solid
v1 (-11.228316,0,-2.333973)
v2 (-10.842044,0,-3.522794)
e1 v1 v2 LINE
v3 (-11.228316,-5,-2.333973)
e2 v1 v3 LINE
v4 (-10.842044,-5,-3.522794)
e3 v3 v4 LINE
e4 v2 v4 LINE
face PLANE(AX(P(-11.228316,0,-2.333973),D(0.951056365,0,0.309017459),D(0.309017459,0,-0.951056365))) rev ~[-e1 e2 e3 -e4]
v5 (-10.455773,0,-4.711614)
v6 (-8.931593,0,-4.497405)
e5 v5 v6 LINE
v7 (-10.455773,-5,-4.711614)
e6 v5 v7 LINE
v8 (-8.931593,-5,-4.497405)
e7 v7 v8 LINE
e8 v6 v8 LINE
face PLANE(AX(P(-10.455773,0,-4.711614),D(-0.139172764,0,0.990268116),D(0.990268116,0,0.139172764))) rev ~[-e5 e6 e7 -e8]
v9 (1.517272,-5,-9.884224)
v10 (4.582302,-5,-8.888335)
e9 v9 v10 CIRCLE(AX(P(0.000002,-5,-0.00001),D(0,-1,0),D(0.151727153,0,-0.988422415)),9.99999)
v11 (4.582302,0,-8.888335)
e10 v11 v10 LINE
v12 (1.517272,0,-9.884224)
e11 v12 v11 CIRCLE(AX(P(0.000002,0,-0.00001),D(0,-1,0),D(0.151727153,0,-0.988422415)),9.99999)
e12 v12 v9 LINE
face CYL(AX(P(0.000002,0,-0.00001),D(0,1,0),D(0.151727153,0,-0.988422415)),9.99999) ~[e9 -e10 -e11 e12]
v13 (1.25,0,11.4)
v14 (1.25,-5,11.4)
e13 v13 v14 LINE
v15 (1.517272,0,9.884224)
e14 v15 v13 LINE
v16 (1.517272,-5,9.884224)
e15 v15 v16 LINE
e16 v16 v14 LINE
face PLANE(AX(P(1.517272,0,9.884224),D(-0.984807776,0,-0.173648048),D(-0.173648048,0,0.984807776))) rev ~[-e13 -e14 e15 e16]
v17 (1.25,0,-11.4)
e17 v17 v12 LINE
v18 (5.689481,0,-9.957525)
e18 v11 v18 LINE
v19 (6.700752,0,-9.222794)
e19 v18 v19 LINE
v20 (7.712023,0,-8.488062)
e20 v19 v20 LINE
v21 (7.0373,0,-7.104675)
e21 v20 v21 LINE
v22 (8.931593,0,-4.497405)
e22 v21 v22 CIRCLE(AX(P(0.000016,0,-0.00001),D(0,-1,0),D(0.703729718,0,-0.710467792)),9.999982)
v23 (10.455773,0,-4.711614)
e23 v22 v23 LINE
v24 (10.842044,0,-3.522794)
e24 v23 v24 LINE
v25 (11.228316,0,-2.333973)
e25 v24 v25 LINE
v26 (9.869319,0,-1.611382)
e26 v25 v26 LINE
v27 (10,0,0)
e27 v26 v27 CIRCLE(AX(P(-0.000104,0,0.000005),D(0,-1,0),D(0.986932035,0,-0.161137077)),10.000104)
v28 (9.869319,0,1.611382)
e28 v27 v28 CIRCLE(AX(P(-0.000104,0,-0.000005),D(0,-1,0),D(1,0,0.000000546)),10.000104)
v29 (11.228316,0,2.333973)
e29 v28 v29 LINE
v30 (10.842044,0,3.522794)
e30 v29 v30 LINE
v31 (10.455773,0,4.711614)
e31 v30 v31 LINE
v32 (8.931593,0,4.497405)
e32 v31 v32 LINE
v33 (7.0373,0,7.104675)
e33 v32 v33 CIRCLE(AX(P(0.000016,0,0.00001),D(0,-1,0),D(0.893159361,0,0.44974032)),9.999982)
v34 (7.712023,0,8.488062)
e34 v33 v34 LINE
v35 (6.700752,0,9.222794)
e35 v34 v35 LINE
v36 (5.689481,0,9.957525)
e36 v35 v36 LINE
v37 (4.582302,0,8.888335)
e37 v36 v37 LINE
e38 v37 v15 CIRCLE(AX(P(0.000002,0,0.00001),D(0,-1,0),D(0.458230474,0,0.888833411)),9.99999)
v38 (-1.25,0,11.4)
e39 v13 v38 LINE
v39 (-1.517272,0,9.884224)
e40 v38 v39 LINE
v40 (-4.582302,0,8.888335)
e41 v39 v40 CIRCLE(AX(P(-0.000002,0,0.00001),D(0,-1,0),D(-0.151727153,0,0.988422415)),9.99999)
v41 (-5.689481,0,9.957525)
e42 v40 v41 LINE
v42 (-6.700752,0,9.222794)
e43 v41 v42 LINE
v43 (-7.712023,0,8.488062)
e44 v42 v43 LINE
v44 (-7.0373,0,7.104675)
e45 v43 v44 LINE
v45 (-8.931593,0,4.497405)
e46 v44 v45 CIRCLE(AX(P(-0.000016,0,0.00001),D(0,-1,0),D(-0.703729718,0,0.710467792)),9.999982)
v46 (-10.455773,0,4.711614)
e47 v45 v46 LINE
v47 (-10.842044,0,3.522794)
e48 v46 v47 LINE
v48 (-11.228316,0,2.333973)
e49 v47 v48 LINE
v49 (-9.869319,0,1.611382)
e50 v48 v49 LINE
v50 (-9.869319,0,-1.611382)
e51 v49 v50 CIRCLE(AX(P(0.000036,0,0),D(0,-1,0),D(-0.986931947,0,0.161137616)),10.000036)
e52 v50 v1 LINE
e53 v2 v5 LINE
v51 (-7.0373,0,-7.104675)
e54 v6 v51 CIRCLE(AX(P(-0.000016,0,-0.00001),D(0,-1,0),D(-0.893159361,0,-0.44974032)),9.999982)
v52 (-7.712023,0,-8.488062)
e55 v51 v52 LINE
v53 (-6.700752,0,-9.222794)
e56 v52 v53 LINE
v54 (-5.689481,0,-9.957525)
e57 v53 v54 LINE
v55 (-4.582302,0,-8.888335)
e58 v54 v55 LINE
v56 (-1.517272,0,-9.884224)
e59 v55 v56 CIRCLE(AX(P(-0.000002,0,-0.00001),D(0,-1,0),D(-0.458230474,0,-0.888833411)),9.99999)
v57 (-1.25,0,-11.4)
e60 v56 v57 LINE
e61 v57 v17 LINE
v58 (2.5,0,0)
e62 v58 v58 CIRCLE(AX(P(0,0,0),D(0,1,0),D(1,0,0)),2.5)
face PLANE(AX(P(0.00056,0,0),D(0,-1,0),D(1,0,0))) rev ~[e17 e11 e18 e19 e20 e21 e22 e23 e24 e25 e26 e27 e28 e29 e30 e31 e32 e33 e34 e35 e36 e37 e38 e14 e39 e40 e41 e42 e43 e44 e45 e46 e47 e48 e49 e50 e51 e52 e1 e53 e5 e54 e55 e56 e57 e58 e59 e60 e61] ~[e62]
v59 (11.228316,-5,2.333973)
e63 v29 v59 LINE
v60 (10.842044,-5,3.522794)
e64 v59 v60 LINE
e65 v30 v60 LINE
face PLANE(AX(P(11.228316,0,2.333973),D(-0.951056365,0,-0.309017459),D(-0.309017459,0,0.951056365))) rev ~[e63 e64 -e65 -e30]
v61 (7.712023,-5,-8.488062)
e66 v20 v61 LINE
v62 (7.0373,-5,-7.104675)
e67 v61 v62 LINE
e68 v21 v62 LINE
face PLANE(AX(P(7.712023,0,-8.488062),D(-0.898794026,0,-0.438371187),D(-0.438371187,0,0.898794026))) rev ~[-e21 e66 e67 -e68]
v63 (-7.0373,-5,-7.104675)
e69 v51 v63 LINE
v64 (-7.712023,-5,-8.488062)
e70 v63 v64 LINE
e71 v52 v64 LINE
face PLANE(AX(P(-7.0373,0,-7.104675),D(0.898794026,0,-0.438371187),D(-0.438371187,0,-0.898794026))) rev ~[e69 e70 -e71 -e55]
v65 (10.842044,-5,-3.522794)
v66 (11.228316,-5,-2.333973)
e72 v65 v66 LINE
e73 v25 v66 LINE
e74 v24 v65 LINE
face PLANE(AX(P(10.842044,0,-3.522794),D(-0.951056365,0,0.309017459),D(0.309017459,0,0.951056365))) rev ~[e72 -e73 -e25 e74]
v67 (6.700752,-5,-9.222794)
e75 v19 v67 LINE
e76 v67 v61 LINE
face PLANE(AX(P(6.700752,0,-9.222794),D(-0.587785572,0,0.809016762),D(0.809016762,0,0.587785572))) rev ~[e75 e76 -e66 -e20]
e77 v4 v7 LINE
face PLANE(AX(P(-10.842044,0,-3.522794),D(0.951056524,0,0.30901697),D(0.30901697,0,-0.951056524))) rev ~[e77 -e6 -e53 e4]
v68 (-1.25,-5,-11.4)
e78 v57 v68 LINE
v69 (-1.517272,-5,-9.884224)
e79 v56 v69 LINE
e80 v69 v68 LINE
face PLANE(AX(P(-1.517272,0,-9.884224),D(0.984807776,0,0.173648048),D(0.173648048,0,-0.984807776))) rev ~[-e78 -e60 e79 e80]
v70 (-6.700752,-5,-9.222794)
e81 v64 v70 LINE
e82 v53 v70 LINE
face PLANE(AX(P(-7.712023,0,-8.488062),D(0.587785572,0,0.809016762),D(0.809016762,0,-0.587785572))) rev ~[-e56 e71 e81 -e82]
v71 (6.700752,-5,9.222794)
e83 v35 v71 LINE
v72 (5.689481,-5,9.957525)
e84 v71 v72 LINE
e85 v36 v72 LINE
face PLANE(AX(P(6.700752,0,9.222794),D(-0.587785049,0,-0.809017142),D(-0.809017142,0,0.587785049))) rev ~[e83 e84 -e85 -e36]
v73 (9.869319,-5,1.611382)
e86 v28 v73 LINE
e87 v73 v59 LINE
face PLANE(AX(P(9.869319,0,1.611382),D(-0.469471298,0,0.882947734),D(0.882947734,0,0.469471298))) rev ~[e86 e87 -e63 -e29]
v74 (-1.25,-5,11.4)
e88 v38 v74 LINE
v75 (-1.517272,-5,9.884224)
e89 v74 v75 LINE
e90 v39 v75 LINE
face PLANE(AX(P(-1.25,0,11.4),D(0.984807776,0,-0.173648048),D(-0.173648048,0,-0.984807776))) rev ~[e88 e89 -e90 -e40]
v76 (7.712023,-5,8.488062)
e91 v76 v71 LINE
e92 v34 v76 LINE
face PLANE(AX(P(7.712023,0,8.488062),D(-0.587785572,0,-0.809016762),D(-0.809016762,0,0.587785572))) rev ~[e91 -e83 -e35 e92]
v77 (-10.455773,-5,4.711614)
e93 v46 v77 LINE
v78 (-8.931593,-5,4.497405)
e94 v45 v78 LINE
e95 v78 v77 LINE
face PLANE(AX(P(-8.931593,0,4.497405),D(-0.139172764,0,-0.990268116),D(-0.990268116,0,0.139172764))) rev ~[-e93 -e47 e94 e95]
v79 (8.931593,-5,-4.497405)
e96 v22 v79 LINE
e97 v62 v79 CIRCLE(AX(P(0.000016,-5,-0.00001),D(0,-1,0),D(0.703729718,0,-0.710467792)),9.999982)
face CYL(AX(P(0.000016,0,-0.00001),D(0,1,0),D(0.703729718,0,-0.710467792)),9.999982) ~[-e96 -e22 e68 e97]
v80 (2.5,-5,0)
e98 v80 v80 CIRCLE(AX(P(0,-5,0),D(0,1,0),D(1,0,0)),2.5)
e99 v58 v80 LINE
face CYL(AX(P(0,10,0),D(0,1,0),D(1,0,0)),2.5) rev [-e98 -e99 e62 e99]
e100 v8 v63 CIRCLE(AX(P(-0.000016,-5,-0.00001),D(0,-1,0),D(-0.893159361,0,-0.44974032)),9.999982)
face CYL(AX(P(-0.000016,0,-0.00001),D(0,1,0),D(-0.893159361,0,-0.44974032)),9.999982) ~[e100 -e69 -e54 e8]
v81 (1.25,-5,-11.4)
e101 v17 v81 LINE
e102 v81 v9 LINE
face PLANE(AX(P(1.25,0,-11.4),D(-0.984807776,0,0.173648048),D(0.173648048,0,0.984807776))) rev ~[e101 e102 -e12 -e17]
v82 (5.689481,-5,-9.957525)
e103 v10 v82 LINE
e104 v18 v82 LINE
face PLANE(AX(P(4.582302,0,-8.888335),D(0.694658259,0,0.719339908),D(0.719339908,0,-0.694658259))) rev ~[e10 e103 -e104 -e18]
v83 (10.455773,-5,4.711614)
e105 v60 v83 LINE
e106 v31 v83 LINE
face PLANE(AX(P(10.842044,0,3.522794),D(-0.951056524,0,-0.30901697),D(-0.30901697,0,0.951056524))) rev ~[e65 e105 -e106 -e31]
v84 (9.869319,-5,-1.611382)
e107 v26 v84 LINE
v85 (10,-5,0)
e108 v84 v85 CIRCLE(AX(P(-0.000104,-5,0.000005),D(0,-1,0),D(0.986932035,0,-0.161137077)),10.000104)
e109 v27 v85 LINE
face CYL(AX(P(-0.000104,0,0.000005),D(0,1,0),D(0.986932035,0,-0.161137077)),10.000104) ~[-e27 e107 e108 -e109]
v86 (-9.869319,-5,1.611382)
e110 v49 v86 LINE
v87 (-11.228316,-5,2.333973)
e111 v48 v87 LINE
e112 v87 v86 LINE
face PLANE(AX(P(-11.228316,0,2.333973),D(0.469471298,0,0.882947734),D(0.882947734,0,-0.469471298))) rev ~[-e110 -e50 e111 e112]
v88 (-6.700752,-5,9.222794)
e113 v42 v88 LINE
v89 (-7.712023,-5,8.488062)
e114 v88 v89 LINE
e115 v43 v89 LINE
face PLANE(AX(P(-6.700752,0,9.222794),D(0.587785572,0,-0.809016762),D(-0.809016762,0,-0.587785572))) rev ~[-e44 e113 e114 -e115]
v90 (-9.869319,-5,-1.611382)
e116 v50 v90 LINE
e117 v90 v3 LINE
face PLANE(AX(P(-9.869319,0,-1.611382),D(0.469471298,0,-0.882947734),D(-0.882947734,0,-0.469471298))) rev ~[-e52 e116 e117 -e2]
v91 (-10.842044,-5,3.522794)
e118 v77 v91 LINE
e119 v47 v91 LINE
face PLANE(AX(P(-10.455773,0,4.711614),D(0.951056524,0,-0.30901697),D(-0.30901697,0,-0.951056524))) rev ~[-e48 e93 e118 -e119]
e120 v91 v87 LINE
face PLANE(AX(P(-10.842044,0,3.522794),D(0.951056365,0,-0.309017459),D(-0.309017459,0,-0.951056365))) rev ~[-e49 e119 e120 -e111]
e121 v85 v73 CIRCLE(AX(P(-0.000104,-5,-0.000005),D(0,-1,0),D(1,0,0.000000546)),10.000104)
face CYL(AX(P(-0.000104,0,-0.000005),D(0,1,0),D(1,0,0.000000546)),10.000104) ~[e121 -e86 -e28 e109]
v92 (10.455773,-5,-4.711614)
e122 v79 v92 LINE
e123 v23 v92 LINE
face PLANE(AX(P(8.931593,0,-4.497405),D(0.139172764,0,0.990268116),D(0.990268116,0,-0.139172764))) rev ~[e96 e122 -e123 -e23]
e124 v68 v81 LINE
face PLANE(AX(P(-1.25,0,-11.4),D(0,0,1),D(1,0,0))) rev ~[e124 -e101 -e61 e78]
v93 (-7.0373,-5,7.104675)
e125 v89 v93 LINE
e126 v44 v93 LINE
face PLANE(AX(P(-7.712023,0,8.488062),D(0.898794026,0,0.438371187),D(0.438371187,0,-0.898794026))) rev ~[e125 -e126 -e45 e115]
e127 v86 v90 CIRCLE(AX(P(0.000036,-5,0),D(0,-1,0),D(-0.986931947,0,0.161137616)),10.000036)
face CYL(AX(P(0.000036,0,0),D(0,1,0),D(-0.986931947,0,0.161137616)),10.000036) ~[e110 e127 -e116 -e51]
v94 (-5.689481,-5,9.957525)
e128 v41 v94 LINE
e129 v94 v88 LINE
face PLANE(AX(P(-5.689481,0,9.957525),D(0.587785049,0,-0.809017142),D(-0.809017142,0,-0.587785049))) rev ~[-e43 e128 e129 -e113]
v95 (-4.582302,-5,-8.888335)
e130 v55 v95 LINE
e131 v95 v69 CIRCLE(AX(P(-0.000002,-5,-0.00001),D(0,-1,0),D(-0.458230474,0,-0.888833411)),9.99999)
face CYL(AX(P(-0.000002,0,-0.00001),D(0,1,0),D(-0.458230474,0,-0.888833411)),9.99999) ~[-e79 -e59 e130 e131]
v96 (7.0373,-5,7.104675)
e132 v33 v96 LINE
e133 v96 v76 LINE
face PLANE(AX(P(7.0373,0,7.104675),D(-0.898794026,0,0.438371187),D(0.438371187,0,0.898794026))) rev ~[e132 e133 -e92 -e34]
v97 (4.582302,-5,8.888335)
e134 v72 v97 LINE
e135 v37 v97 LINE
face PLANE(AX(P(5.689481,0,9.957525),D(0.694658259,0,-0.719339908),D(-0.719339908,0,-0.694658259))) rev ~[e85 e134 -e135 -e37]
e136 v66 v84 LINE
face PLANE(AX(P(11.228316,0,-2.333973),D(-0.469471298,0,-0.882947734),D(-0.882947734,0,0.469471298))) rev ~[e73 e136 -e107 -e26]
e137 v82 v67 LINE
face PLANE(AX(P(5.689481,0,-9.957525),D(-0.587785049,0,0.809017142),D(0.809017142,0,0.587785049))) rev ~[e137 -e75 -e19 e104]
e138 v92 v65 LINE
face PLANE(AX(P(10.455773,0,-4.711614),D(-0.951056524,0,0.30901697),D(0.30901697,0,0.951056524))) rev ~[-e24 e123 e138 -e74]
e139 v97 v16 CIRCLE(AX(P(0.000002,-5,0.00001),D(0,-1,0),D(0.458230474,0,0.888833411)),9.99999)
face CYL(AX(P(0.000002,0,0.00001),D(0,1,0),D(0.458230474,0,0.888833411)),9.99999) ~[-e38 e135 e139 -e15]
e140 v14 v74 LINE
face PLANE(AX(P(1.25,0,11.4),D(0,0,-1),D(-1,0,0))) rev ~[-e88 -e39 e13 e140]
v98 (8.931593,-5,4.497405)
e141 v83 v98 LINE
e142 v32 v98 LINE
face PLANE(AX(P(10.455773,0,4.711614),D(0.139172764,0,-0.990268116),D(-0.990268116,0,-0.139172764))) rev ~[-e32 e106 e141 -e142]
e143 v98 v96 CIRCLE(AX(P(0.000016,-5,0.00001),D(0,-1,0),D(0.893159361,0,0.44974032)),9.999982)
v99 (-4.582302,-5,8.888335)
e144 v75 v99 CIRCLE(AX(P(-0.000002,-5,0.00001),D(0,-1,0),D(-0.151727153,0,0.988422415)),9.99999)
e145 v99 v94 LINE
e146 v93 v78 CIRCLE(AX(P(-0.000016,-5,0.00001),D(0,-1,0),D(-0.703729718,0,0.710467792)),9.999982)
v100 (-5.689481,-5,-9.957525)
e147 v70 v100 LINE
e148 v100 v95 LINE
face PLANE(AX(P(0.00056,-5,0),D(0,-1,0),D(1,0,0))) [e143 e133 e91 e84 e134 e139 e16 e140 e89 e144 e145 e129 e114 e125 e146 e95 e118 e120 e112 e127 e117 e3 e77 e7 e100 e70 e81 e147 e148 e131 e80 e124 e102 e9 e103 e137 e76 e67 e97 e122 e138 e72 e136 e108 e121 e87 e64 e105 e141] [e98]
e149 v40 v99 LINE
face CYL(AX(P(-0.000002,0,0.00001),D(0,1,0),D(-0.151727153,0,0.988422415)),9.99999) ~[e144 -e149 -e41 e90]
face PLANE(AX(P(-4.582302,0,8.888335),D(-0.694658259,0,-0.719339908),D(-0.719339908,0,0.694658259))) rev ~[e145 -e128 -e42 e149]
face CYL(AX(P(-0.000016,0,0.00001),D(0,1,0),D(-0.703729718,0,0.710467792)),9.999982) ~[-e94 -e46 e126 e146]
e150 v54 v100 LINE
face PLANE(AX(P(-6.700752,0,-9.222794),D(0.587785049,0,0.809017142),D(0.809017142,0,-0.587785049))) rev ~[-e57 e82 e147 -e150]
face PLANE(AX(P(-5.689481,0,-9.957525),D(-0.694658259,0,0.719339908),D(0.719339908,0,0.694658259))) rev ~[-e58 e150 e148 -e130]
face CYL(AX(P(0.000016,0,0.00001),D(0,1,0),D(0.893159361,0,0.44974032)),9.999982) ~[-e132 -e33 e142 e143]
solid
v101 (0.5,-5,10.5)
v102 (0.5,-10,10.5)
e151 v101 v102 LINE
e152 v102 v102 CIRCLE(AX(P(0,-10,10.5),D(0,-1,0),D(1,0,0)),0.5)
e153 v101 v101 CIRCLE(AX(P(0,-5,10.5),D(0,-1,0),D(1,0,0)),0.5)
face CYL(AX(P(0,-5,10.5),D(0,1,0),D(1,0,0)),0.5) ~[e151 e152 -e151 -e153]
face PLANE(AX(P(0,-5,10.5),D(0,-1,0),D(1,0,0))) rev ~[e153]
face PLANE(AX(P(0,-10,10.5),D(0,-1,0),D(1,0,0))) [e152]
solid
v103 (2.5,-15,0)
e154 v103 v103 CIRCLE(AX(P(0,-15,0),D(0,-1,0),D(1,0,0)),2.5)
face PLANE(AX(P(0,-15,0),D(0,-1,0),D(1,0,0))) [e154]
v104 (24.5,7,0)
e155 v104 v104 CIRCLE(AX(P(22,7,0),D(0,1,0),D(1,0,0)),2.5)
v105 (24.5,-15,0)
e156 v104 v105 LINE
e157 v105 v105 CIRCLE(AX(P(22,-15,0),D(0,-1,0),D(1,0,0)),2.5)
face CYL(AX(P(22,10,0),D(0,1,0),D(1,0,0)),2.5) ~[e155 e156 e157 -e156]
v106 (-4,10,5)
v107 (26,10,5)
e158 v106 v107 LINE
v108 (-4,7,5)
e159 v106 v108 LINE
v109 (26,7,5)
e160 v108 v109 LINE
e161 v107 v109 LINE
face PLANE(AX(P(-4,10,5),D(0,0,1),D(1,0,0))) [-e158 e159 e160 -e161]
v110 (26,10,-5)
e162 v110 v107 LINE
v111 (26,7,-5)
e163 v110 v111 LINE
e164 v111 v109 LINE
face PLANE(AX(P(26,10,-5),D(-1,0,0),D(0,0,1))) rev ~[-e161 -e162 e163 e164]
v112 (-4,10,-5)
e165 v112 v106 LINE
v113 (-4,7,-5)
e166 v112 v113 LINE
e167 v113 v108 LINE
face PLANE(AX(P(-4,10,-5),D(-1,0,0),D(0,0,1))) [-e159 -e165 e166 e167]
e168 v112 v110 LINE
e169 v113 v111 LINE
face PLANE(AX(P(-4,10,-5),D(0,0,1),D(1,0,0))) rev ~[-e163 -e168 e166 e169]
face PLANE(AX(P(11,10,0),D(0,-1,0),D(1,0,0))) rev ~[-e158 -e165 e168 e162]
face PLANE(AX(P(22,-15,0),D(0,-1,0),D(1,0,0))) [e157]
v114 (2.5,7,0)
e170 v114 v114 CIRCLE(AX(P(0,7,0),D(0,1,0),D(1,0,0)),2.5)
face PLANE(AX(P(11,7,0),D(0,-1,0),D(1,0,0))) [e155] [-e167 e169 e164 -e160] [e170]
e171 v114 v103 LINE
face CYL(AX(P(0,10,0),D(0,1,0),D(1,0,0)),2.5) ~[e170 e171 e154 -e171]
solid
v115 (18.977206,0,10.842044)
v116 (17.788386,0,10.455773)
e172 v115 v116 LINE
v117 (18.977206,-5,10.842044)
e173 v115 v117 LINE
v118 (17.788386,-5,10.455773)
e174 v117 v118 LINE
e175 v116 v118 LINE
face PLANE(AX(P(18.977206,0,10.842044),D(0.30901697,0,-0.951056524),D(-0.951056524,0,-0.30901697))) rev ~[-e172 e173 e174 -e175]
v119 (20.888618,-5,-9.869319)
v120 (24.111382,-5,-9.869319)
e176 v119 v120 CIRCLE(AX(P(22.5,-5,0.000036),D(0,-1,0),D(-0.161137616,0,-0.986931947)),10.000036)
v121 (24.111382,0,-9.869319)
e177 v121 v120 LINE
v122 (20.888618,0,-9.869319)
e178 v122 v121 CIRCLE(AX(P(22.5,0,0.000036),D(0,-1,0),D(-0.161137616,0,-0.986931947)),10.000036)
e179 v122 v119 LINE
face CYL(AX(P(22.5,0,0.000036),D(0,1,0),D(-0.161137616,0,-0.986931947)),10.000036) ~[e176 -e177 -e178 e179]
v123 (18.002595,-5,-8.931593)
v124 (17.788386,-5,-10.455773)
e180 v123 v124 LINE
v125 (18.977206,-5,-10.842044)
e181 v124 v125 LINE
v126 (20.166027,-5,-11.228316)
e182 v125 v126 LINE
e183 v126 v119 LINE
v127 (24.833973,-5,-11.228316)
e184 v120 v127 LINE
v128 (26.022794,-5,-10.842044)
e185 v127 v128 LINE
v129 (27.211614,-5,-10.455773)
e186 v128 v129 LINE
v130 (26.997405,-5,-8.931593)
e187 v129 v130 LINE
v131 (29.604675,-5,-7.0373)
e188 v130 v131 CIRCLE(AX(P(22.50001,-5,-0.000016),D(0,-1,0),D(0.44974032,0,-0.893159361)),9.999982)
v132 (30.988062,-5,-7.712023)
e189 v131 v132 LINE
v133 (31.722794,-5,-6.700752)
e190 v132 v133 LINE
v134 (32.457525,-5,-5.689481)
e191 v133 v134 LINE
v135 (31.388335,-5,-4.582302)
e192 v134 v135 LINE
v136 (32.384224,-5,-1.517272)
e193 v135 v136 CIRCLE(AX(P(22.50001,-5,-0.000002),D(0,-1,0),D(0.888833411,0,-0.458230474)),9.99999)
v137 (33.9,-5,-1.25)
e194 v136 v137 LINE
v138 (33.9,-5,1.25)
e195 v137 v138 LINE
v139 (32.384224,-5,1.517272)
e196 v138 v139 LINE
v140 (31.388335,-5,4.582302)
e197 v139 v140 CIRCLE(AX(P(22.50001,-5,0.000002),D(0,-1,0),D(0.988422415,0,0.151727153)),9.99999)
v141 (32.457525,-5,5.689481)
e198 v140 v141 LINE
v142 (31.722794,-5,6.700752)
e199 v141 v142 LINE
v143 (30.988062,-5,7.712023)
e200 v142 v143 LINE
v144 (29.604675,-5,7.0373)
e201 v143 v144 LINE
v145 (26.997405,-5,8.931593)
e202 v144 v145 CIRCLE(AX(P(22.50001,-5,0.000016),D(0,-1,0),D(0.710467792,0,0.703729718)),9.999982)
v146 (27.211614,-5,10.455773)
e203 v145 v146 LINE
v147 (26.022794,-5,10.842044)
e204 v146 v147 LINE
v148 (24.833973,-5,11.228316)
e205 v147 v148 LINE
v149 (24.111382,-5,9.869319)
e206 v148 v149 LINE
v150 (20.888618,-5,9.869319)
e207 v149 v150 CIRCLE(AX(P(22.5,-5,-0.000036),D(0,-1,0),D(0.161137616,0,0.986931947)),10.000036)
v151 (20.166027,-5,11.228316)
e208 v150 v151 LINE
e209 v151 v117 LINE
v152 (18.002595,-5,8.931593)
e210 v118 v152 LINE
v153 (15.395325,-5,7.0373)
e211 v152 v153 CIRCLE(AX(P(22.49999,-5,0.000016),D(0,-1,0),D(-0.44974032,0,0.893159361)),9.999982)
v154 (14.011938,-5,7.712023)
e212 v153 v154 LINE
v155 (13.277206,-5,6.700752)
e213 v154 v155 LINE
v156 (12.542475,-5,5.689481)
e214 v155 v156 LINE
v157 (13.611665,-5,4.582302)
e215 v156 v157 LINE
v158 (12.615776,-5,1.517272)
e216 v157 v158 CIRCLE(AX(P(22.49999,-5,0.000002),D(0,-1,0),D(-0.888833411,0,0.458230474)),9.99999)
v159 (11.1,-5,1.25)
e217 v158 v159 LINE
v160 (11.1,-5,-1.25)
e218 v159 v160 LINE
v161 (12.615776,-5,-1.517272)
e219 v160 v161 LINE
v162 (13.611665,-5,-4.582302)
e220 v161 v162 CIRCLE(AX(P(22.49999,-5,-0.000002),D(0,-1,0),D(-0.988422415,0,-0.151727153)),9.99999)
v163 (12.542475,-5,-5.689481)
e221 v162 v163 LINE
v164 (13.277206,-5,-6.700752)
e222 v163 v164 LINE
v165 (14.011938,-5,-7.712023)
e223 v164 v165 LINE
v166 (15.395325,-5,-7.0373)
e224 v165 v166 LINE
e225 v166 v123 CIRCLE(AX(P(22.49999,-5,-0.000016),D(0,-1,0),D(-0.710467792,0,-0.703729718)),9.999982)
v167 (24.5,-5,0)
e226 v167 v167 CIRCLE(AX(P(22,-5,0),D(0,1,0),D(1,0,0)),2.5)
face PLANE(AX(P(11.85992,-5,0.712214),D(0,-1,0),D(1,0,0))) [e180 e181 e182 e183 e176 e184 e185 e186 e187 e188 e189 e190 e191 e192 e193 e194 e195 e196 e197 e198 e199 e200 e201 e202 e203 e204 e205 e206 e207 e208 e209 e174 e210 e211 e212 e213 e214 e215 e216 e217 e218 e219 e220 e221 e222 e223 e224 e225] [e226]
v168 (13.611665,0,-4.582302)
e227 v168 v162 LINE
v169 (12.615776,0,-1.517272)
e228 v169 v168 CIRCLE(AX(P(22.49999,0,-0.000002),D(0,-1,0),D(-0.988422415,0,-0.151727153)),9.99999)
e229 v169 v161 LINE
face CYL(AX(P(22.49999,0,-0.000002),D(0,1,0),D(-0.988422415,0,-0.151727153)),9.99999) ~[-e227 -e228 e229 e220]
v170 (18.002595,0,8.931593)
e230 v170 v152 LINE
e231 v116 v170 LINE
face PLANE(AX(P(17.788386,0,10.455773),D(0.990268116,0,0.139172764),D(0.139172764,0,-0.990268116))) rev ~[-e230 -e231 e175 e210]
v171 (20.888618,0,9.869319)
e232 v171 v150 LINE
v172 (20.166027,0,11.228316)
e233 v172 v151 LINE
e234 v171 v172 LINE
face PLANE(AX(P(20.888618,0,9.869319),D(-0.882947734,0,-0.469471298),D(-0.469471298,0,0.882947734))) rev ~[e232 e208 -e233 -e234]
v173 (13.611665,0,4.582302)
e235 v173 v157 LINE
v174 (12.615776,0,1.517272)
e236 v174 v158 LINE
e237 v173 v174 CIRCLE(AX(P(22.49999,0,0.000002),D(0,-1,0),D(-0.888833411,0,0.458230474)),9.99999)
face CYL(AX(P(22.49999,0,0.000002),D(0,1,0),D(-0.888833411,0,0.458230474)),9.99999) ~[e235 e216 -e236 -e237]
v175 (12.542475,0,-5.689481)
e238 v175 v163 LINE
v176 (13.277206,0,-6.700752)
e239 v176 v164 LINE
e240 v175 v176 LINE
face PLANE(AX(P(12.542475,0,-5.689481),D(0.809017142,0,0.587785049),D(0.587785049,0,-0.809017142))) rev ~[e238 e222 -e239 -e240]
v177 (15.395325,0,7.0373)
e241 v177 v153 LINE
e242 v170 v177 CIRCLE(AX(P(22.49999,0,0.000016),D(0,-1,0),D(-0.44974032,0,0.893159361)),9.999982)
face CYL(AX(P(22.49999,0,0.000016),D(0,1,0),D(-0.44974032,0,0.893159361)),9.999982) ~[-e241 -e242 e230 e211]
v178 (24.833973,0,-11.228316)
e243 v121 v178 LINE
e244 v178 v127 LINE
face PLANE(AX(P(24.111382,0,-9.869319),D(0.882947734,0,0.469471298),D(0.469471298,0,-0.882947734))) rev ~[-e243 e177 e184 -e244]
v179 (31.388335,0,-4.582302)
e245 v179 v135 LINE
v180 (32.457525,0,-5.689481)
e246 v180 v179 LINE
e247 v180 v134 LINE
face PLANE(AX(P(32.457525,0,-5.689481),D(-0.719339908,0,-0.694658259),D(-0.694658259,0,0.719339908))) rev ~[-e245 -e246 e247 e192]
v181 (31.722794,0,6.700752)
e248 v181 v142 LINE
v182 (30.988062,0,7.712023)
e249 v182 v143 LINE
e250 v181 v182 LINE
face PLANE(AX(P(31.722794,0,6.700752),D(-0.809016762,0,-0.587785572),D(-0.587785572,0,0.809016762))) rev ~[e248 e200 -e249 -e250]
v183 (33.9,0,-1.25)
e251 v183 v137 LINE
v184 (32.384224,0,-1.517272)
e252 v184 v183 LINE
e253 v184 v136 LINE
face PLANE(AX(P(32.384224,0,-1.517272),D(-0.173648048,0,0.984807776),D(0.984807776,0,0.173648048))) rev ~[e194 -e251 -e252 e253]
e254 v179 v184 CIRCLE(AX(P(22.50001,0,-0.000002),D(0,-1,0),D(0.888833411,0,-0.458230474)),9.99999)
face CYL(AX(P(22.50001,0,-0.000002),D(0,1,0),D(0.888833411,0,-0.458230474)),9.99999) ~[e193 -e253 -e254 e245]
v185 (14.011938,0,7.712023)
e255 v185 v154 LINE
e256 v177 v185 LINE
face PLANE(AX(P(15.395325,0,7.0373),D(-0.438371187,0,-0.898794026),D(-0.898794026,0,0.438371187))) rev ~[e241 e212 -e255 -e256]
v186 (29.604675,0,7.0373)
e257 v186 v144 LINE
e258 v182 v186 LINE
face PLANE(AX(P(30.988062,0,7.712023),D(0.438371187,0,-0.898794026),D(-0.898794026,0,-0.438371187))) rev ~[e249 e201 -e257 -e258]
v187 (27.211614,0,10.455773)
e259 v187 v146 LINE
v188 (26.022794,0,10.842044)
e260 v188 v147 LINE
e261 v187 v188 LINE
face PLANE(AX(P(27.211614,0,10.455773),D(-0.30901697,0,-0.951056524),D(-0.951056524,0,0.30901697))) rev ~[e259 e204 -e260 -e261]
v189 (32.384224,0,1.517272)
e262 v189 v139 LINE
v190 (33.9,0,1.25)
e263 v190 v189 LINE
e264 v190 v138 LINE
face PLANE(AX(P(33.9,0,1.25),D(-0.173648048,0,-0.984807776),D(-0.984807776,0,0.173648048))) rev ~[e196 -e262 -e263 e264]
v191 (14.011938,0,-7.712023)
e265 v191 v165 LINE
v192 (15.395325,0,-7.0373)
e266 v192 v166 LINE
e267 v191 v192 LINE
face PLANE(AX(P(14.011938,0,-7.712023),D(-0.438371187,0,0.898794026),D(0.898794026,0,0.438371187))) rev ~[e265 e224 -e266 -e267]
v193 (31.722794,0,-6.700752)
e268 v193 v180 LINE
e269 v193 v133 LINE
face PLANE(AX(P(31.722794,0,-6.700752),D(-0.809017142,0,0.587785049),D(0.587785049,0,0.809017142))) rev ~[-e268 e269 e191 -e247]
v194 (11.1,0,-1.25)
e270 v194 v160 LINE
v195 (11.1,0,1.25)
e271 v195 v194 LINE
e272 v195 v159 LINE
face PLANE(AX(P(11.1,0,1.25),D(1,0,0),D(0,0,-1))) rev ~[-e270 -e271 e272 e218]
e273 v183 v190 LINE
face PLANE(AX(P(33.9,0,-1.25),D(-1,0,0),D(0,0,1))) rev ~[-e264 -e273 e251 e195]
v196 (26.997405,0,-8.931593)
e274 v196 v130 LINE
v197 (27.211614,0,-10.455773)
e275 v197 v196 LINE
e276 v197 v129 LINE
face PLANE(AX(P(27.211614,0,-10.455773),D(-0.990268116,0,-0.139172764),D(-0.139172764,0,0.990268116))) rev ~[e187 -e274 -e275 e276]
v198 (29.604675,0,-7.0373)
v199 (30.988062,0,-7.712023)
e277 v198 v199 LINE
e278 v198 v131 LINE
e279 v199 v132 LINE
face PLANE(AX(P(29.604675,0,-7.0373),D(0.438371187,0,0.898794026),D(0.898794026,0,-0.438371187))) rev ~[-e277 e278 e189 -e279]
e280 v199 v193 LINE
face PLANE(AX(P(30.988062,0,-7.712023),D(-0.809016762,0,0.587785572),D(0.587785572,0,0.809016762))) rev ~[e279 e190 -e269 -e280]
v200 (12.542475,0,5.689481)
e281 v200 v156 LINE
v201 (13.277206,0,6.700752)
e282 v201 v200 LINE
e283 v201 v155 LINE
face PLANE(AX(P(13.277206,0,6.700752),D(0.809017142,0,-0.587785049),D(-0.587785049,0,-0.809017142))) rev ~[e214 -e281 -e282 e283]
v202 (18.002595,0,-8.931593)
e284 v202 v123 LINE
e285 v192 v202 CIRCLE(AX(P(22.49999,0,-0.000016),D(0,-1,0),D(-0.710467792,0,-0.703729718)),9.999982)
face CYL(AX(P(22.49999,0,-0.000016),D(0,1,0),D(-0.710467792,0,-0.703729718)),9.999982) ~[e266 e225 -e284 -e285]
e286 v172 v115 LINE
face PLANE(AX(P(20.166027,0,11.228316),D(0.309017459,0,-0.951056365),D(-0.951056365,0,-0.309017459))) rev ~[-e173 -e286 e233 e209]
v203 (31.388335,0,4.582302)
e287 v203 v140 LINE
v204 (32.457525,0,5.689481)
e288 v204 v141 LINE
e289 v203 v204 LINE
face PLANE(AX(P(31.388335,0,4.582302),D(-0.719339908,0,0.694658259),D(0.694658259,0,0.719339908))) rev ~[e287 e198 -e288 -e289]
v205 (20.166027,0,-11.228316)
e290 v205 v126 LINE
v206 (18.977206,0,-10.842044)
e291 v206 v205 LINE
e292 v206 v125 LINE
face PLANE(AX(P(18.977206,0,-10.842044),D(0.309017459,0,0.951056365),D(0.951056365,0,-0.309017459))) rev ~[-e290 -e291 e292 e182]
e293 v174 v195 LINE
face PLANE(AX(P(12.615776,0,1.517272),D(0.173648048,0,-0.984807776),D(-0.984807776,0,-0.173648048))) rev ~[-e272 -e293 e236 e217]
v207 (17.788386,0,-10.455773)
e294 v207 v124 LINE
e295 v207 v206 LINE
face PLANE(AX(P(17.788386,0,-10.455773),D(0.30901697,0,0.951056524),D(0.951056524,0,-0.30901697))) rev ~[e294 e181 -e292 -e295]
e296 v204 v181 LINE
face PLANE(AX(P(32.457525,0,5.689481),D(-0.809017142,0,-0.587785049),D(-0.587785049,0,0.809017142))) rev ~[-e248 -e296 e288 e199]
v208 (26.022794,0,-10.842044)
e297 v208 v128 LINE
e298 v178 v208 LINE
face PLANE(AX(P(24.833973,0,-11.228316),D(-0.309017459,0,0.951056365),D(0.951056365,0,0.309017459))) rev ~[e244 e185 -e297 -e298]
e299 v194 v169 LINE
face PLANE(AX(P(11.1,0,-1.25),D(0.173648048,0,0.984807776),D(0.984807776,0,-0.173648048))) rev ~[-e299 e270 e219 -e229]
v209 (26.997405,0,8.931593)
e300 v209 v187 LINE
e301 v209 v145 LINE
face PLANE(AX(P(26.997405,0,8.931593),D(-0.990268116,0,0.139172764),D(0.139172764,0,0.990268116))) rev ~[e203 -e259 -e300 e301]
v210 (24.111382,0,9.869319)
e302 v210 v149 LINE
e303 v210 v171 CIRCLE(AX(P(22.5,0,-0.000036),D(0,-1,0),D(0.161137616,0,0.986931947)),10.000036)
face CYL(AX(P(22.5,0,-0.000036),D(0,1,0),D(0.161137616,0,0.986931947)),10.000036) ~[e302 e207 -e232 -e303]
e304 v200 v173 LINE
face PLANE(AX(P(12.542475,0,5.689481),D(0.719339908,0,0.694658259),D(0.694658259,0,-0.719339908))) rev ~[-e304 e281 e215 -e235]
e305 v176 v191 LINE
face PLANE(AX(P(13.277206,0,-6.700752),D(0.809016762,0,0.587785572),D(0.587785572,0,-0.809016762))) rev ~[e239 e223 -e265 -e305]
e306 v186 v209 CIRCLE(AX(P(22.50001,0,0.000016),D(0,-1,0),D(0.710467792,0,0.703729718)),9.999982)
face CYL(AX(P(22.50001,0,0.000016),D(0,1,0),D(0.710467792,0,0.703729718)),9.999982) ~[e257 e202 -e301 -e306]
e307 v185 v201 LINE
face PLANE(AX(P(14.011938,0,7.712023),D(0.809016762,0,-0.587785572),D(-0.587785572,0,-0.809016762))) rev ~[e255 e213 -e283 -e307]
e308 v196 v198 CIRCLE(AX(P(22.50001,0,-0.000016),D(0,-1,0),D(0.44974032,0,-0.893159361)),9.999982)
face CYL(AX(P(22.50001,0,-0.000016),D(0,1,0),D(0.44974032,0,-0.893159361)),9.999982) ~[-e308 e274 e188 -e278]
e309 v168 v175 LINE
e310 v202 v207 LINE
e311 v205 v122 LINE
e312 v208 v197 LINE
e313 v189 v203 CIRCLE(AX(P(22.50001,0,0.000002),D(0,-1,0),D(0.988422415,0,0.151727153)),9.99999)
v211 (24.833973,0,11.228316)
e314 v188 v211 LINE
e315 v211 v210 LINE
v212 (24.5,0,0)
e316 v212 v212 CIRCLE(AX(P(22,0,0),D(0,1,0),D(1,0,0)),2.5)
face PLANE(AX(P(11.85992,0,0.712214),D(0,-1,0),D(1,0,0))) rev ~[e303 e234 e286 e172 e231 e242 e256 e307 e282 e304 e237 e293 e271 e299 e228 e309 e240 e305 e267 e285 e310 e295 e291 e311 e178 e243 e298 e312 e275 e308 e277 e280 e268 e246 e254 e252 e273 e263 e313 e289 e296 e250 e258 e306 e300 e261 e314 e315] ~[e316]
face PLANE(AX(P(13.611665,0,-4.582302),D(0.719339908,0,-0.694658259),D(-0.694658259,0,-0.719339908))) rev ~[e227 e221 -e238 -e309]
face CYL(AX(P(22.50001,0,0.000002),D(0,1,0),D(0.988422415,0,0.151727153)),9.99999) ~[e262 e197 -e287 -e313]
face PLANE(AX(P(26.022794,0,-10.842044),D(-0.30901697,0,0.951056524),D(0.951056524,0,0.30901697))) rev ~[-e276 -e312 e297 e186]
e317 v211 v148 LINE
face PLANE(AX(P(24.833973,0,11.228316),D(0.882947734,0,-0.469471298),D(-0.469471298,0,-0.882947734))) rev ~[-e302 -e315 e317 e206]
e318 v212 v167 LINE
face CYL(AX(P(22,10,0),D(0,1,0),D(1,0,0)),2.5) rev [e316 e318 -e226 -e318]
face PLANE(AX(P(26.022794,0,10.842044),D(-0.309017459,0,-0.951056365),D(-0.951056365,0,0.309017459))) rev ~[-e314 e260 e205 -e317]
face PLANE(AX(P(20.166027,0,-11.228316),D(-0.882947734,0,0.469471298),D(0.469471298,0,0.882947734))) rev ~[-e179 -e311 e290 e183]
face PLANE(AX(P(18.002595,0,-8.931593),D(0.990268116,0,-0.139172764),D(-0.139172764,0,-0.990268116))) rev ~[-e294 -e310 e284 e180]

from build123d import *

# Parameters (mm, degrees)
F1_DEPTH  = 5
F3_DEPTH  = 5
F5_R      = 2.5
F6_DEPTH  = 25
F9_DEPTH  = 25
F11_W     = 30
F11_H     = 10
F12_DEPTH = 3
F13_R     = 0.5
F14_DEPTH = 5


with BuildPart() as f1:
    # F0 (on Front) → F1 (new body)
    with BuildSketch(Plane.XZ):
        with BuildLine():
            ThreePointArc((9.869319, -1.611382), (9.967276, -0.808336), (10, 0))
            ThreePointArc((10, 0), (9.967276, 0.808336), (9.869319, 1.611382))
            ThreePointArc((9.869319, 1.611382), (9.510565, 3.09017), (8.931593, 4.497405))
            ThreePointArc((8.931593, 4.497405), (8.09017, 5.877853), (7.0373, 7.104675))
            ThreePointArc((7.0373, 7.104675), (5.877853, 8.09017), (4.582302, 8.888335))
            ThreePointArc((4.582302, 8.888335), (3.09017, 9.510565), (1.517272, 9.884224))
            ThreePointArc((1.517272, 9.884224), (0, 10), (-1.517272, 9.884224))
            ThreePointArc((-1.517272, 9.884224), (-3.09017, 9.510565), (-4.582302, 8.888335))
            ThreePointArc((-4.582302, 8.888335), (-5.877853, 8.09017), (-7.0373, 7.104675))
            ThreePointArc((-7.0373, 7.104675), (-8.09017, 5.877853), (-8.931593, 4.497405))
            ThreePointArc((-8.931593, 4.497405), (-9.510565, 3.09017), (-9.869319, 1.611382))
            ThreePointArc((-9.869319, 1.611382), (-10, 0), (-9.869319, -1.611382))
            ThreePointArc((-9.869319, -1.611382), (-9.510565, -3.09017), (-8.931593, -4.497405))
            ThreePointArc((-8.931593, -4.497405), (-8.09017, -5.877853), (-7.0373, -7.104675))
            ThreePointArc((-7.0373, -7.104675), (-5.877853, -8.09017), (-4.582302, -8.888335))
            ThreePointArc((-4.582302, -8.888335), (-3.09017, -9.510565), (-1.517272, -9.884224))
            ThreePointArc((-1.517272, -9.884224), (0, -10), (1.517272, -9.884224))
            ThreePointArc((1.517272, -9.884224), (3.09017, -9.510565), (4.582302, -8.888335))
            ThreePointArc((4.582302, -8.888335), (5.877853, -8.09017), (7.0373, -7.104675))
            ThreePointArc((7.0373, -7.104675), (8.09017, -5.877853), (8.931593, -4.497405))
            ThreePointArc((8.931593, -4.497405), (9.510565, -3.09017), (9.869319, -1.611382))
        make_face()
        with BuildLine():
            ThreePointArc((8.931593, 4.497405), (9.510565, 3.09017), (9.869319, 1.611382))
            Line((9.869319, 1.611382), (11.228316, 2.333973))
            Line((11.228316, 2.333973), (10.842044, 3.522794))
            Line((10.842044, 3.522794), (10.455773, 4.711614))
            Line((10.455773, 4.711614), (8.931593, 4.497405))
        make_face()
        with BuildLine():
            Line((11.228316, -2.333973), (9.869319, -1.611382))
            ThreePointArc((9.869319, -1.611382), (9.510565, -3.09017), (8.931593, -4.497405))
            Line((8.931593, -4.497405), (10.455773, -4.711614))
            Line((10.455773, -4.711614), (10.842044, -3.522794))
            Line((10.842044, -3.522794), (11.228316, -2.333973))
        make_face()
        with BuildLine():
            ThreePointArc((4.582302, 8.888335), (5.877853, 8.09017), (7.0373, 7.104675))
            Line((7.0373, 7.104675), (7.712023, 8.488062))
            Line((7.712023, 8.488062), (6.700752, 9.222794))
            Line((6.700752, 9.222794), (5.689481, 9.957525))
            Line((5.689481, 9.957525), (4.582302, 8.888335))
        make_face()
        with BuildLine():
            Line((7.712023, -8.488062), (7.0373, -7.104675))
            ThreePointArc((7.0373, -7.104675), (5.877853, -8.09017), (4.582302, -8.888335))
            Line((4.582302, -8.888335), (5.689481, -9.957525))
            Line((5.689481, -9.957525), (6.700752, -9.222794))
            Line((6.700752, -9.222794), (7.712023, -8.488062))
        make_face()
        with BuildLine():
            ThreePointArc((-1.517272, 9.884224), (0, 10), (1.517272, 9.884224))
            Line((1.517272, 9.884224), (1.25, 11.4))
            Line((1.25, 11.4), (0, 11.4))
            Line((0, 11.4), (-1.25, 11.4))
            Line((-1.25, 11.4), (-1.517272, 9.884224))
        make_face()
        with BuildLine():
            Line((1.25, -11.4), (1.517272, -9.884224))
            ThreePointArc((1.517272, -9.884224), (0, -10), (-1.517272, -9.884224))
            Line((-1.517272, -9.884224), (-1.25, -11.4))
            Line((-1.25, -11.4), (0, -11.4))
            Line((0, -11.4), (1.25, -11.4))
        make_face()
        with BuildLine():
            ThreePointArc((-7.0373, 7.104675), (-5.877853, 8.09017), (-4.582302, 8.888335))
            Line((-4.582302, 8.888335), (-5.689481, 9.957525))
            Line((-5.689481, 9.957525), (-6.700752, 9.222794))
            Line((-6.700752, 9.222794), (-7.712023, 8.488062))
            Line((-7.712023, 8.488062), (-7.0373, 7.104675))
        make_face()
        with BuildLine():
            Line((-5.689481, -9.957525), (-4.582302, -8.888335))
            ThreePointArc((-4.582302, -8.888335), (-5.877853, -8.09017), (-7.0373, -7.104675))
            Line((-7.0373, -7.104675), (-7.712023, -8.488062))
            Line((-7.712023, -8.488062), (-6.700752, -9.222794))
            Line((-6.700752, -9.222794), (-5.689481, -9.957525))
        make_face()
        with BuildLine():
            ThreePointArc((-9.869319, 1.611382), (-9.510565, 3.09017), (-8.931593, 4.497405))
            Line((-8.931593, 4.497405), (-10.455773, 4.711614))
            Line((-10.455773, 4.711614), (-10.842044, 3.522794))
            Line((-10.842044, 3.522794), (-11.228316, 2.333973))
            Line((-11.228316, 2.333973), (-9.869319, 1.611382))
        make_face()
        with BuildLine():
            Line((-10.455773, -4.711614), (-8.931593, -4.497405))
            ThreePointArc((-8.931593, -4.497405), (-9.510565, -3.09017), (-9.869319, -1.611382))
            Line((-9.869319, -1.611382), (-11.228316, -2.333973))
            Line((-11.228316, -2.333973), (-10.842044, -3.522794))
            Line((-10.842044, -3.522794), (-10.455773, -4.711614))
        make_face()
    extrude(amount=F1_DEPTH)


with BuildPart() as f3:
    # F2 (on Front) → F3 (new body)
    with BuildSketch(Plane.XZ):
        with BuildLine():
            Line((11.1, 1.25), (11.1, 0))
            Line((11.1, 0), (12.5, 0))
            ThreePointArc((12.5, 0), (12.528986, 0.760841), (12.615776, 1.517272))
            Line((12.615776, 1.517272), (11.1, 1.25))
        make_face()
        with BuildLine():
            Line((12.5, 0), (11.1, 0))
            Line((11.1, 0), (11.1, -1.25))
            Line((11.1, -1.25), (12.615776, -1.517272))
            ThreePointArc((12.615776, -1.517272), (12.528986, -0.760841), (12.5, 0))
        make_face()
        with BuildLine():
            ThreePointArc((12.615776, 1.517272), (12.528986, 0.760841), (12.5, 0))
            ThreePointArc((12.5, 0), (12.528986, -0.760841), (12.615776, -1.517272))
            ThreePointArc((12.615776, -1.517272), (12.989435, -3.09017), (13.611665, -4.582302))
            ThreePointArc((13.611665, -4.582302), (14.40983, -5.877853), (15.395325, -7.0373))
            ThreePointArc((15.395325, -7.0373), (16.622147, -8.09017), (18.002595, -8.931593))
            ThreePointArc((18.002595, -8.931593), (19.40983, -9.510565), (20.888618, -9.869319))
            ThreePointArc((20.888618, -9.869319), (22.5, -10), (24.111382, -9.869319))
            ThreePointArc((24.111382, -9.869319), (25.59017, -9.510565), (26.997405, -8.931593))
            ThreePointArc((26.997405, -8.931593), (28.377853, -8.09017), (29.604675, -7.0373))
            ThreePointArc((29.604675, -7.0373), (30.59017, -5.877853), (31.388335, -4.582302))
            ThreePointArc((31.388335, -4.582302), (32.010565, -3.09017), (32.384224, -1.517272))
            ThreePointArc((32.384224, -1.517272), (32.471014, -0.760841), (32.5, 0))
            ThreePointArc((32.5, 0), (32.471014, 0.760841), (32.384224, 1.517272))
            ThreePointArc((32.384224, 1.517272), (32.010565, 3.09017), (31.388335, 4.582302))
            ThreePointArc((31.388335, 4.582302), (30.59017, 5.877853), (29.604675, 7.0373))
            ThreePointArc((29.604675, 7.0373), (28.377853, 8.09017), (26.997405, 8.931593))
            ThreePointArc((26.997405, 8.931593), (25.59017, 9.510565), (24.111382, 9.869319))
            ThreePointArc((24.111382, 9.869319), (22.5, 10), (20.888618, 9.869319))
            ThreePointArc((20.888618, 9.869319), (19.40983, 9.510565), (18.002595, 8.931593))
            ThreePointArc((18.002595, 8.931593), (16.622147, 8.09017), (15.395325, 7.0373))
            ThreePointArc((15.395325, 7.0373), (14.40983, 5.877853), (13.611665, 4.582302))
            ThreePointArc((13.611665, 4.582302), (12.989435, 3.09017), (12.615776, 1.517272))
        make_face()
        with BuildLine():
            Line((12.542475, 5.689481), (13.611665, 4.582302))
            ThreePointArc((13.611665, 4.582302), (14.40983, 5.877853), (15.395325, 7.0373))
            Line((15.395325, 7.0373), (14.011938, 7.712023))
            Line((14.011938, 7.712023), (13.277206, 6.700752))
            Line((13.277206, 6.700752), (12.542475, 5.689481))
        make_face()
        with BuildLine():
            ThreePointArc((15.395325, -7.0373), (14.40983, -5.877853), (13.611665, -4.582302))
            Line((13.611665, -4.582302), (12.542475, -5.689481))
            Line((12.542475, -5.689481), (13.277206, -6.700752))
            Line((13.277206, -6.700752), (14.011938, -7.712023))
            Line((14.011938, -7.712023), (15.395325, -7.0373))
        make_face()
        with BuildLine():
            Line((17.788386, 10.455773), (18.002595, 8.931593))
            ThreePointArc((18.002595, 8.931593), (19.40983, 9.510565), (20.888618, 9.869319))
            Line((20.888618, 9.869319), (20.166027, 11.228316))
            Line((20.166027, 11.228316), (18.977206, 10.842044))
            Line((18.977206, 10.842044), (17.788386, 10.455773))
        make_face()
        with BuildLine():
            ThreePointArc((20.888618, -9.869319), (19.40983, -9.510565), (18.002595, -8.931593))
            Line((18.002595, -8.931593), (17.788386, -10.455773))
            Line((17.788386, -10.455773), (18.977206, -10.842044))
            Line((18.977206, -10.842044), (20.166027, -11.228316))
            Line((20.166027, -11.228316), (20.888618, -9.869319))
        make_face()
        with BuildLine():
            Line((24.833973, 11.228316), (24.111382, 9.869319))
            ThreePointArc((24.111382, 9.869319), (25.59017, 9.510565), (26.997405, 8.931593))
            Line((26.997405, 8.931593), (27.211614, 10.455773))
            Line((27.211614, 10.455773), (26.022794, 10.842044))
            Line((26.022794, 10.842044), (24.833973, 11.228316))
        make_face()
        with BuildLine():
            ThreePointArc((26.997405, -8.931593), (25.59017, -9.510565), (24.111382, -9.869319))
            Line((24.111382, -9.869319), (24.833973, -11.228316))
            Line((24.833973, -11.228316), (26.022794, -10.842044))
            Line((26.022794, -10.842044), (27.211614, -10.455773))
            Line((27.211614, -10.455773), (26.997405, -8.931593))
        make_face()
        with BuildLine():
            Line((30.988062, 7.712023), (29.604675, 7.0373))
            ThreePointArc((29.604675, 7.0373), (30.59017, 5.877853), (31.388335, 4.582302))
            Line((31.388335, 4.582302), (32.457525, 5.689481))
            Line((32.457525, 5.689481), (31.722794, 6.700752))
            Line((31.722794, 6.700752), (30.988062, 7.712023))
        make_face()
        with BuildLine():
            ThreePointArc((31.388335, -4.582302), (30.59017, -5.877853), (29.604675, -7.0373))
            Line((29.604675, -7.0373), (30.988062, -7.712023))
            Line((30.988062, -7.712023), (31.722794, -6.700752))
            Line((31.722794, -6.700752), (32.457525, -5.689481))
            Line((32.457525, -5.689481), (31.388335, -4.582302))
        make_face()
        with BuildLine():
            Line((33.9, 1.25), (32.384224, 1.517272))
            ThreePointArc((32.384224, 1.517272), (32.471014, 0.760841), (32.5, 0))
            ThreePointArc((32.5, 0), (32.471014, -0.760841), (32.384224, -1.517272))
            Line((32.384224, -1.517272), (33.9, -1.25))
            Line((33.9, -1.25), (33.9, 0))
            Line((33.9, 0), (33.9, 1.25))
        make_face()
    extrude(amount=F3_DEPTH)


with BuildPart() as f6:
    # F5 (on offset) → F6 (new body)
    with BuildSketch(Plane.XZ.offset(-10)):
        Circle(F5_R)
    extrude(amount=F6_DEPTH)



with BuildPart() as f1_1:
    add(f1.part)

    # F7: cut F6
    add(f6.part, mode=Mode.SUBTRACT)


with BuildPart() as f9:
    # F8 (on offset) → F9 (new body)
    with BuildSketch(Plane.XZ.offset(-10)):
        with BuildLine():
            ThreePointArc((19.5, 0), (22, -2.5), (24.5, 0))
            ThreePointArc((24.5, 0), (22, 2.5), (19.5, 0))
        make_face()
    extrude(amount=F9_DEPTH)


with BuildPart() as f3_1:
    add(f3.part)

    # F10: cut F9
    add(f9.part, mode=Mode.SUBTRACT)


with BuildPart() as f6_1:
    add(f6.part)

    add(f9.part)  # F12 merges F9
    # F11 (on offset) → F12 (join)
    with BuildSketch(Plane.XZ.offset(-10)):
        with Locations((11, 0)):
            Rectangle(F11_W, F11_H)
    extrude(amount=F12_DEPTH)


with BuildPart() as f14:
    # F13 (on face) → F14 (new body)
    with BuildSketch(Plane.XZ.offset(5)):
        with Locations((0, 10.5)):
            Circle(F13_R)
    extrude(amount=F14_DEPTH)


solid = Compound([f1_1.part, f3_1.part, f6_1.part, f14.part])
